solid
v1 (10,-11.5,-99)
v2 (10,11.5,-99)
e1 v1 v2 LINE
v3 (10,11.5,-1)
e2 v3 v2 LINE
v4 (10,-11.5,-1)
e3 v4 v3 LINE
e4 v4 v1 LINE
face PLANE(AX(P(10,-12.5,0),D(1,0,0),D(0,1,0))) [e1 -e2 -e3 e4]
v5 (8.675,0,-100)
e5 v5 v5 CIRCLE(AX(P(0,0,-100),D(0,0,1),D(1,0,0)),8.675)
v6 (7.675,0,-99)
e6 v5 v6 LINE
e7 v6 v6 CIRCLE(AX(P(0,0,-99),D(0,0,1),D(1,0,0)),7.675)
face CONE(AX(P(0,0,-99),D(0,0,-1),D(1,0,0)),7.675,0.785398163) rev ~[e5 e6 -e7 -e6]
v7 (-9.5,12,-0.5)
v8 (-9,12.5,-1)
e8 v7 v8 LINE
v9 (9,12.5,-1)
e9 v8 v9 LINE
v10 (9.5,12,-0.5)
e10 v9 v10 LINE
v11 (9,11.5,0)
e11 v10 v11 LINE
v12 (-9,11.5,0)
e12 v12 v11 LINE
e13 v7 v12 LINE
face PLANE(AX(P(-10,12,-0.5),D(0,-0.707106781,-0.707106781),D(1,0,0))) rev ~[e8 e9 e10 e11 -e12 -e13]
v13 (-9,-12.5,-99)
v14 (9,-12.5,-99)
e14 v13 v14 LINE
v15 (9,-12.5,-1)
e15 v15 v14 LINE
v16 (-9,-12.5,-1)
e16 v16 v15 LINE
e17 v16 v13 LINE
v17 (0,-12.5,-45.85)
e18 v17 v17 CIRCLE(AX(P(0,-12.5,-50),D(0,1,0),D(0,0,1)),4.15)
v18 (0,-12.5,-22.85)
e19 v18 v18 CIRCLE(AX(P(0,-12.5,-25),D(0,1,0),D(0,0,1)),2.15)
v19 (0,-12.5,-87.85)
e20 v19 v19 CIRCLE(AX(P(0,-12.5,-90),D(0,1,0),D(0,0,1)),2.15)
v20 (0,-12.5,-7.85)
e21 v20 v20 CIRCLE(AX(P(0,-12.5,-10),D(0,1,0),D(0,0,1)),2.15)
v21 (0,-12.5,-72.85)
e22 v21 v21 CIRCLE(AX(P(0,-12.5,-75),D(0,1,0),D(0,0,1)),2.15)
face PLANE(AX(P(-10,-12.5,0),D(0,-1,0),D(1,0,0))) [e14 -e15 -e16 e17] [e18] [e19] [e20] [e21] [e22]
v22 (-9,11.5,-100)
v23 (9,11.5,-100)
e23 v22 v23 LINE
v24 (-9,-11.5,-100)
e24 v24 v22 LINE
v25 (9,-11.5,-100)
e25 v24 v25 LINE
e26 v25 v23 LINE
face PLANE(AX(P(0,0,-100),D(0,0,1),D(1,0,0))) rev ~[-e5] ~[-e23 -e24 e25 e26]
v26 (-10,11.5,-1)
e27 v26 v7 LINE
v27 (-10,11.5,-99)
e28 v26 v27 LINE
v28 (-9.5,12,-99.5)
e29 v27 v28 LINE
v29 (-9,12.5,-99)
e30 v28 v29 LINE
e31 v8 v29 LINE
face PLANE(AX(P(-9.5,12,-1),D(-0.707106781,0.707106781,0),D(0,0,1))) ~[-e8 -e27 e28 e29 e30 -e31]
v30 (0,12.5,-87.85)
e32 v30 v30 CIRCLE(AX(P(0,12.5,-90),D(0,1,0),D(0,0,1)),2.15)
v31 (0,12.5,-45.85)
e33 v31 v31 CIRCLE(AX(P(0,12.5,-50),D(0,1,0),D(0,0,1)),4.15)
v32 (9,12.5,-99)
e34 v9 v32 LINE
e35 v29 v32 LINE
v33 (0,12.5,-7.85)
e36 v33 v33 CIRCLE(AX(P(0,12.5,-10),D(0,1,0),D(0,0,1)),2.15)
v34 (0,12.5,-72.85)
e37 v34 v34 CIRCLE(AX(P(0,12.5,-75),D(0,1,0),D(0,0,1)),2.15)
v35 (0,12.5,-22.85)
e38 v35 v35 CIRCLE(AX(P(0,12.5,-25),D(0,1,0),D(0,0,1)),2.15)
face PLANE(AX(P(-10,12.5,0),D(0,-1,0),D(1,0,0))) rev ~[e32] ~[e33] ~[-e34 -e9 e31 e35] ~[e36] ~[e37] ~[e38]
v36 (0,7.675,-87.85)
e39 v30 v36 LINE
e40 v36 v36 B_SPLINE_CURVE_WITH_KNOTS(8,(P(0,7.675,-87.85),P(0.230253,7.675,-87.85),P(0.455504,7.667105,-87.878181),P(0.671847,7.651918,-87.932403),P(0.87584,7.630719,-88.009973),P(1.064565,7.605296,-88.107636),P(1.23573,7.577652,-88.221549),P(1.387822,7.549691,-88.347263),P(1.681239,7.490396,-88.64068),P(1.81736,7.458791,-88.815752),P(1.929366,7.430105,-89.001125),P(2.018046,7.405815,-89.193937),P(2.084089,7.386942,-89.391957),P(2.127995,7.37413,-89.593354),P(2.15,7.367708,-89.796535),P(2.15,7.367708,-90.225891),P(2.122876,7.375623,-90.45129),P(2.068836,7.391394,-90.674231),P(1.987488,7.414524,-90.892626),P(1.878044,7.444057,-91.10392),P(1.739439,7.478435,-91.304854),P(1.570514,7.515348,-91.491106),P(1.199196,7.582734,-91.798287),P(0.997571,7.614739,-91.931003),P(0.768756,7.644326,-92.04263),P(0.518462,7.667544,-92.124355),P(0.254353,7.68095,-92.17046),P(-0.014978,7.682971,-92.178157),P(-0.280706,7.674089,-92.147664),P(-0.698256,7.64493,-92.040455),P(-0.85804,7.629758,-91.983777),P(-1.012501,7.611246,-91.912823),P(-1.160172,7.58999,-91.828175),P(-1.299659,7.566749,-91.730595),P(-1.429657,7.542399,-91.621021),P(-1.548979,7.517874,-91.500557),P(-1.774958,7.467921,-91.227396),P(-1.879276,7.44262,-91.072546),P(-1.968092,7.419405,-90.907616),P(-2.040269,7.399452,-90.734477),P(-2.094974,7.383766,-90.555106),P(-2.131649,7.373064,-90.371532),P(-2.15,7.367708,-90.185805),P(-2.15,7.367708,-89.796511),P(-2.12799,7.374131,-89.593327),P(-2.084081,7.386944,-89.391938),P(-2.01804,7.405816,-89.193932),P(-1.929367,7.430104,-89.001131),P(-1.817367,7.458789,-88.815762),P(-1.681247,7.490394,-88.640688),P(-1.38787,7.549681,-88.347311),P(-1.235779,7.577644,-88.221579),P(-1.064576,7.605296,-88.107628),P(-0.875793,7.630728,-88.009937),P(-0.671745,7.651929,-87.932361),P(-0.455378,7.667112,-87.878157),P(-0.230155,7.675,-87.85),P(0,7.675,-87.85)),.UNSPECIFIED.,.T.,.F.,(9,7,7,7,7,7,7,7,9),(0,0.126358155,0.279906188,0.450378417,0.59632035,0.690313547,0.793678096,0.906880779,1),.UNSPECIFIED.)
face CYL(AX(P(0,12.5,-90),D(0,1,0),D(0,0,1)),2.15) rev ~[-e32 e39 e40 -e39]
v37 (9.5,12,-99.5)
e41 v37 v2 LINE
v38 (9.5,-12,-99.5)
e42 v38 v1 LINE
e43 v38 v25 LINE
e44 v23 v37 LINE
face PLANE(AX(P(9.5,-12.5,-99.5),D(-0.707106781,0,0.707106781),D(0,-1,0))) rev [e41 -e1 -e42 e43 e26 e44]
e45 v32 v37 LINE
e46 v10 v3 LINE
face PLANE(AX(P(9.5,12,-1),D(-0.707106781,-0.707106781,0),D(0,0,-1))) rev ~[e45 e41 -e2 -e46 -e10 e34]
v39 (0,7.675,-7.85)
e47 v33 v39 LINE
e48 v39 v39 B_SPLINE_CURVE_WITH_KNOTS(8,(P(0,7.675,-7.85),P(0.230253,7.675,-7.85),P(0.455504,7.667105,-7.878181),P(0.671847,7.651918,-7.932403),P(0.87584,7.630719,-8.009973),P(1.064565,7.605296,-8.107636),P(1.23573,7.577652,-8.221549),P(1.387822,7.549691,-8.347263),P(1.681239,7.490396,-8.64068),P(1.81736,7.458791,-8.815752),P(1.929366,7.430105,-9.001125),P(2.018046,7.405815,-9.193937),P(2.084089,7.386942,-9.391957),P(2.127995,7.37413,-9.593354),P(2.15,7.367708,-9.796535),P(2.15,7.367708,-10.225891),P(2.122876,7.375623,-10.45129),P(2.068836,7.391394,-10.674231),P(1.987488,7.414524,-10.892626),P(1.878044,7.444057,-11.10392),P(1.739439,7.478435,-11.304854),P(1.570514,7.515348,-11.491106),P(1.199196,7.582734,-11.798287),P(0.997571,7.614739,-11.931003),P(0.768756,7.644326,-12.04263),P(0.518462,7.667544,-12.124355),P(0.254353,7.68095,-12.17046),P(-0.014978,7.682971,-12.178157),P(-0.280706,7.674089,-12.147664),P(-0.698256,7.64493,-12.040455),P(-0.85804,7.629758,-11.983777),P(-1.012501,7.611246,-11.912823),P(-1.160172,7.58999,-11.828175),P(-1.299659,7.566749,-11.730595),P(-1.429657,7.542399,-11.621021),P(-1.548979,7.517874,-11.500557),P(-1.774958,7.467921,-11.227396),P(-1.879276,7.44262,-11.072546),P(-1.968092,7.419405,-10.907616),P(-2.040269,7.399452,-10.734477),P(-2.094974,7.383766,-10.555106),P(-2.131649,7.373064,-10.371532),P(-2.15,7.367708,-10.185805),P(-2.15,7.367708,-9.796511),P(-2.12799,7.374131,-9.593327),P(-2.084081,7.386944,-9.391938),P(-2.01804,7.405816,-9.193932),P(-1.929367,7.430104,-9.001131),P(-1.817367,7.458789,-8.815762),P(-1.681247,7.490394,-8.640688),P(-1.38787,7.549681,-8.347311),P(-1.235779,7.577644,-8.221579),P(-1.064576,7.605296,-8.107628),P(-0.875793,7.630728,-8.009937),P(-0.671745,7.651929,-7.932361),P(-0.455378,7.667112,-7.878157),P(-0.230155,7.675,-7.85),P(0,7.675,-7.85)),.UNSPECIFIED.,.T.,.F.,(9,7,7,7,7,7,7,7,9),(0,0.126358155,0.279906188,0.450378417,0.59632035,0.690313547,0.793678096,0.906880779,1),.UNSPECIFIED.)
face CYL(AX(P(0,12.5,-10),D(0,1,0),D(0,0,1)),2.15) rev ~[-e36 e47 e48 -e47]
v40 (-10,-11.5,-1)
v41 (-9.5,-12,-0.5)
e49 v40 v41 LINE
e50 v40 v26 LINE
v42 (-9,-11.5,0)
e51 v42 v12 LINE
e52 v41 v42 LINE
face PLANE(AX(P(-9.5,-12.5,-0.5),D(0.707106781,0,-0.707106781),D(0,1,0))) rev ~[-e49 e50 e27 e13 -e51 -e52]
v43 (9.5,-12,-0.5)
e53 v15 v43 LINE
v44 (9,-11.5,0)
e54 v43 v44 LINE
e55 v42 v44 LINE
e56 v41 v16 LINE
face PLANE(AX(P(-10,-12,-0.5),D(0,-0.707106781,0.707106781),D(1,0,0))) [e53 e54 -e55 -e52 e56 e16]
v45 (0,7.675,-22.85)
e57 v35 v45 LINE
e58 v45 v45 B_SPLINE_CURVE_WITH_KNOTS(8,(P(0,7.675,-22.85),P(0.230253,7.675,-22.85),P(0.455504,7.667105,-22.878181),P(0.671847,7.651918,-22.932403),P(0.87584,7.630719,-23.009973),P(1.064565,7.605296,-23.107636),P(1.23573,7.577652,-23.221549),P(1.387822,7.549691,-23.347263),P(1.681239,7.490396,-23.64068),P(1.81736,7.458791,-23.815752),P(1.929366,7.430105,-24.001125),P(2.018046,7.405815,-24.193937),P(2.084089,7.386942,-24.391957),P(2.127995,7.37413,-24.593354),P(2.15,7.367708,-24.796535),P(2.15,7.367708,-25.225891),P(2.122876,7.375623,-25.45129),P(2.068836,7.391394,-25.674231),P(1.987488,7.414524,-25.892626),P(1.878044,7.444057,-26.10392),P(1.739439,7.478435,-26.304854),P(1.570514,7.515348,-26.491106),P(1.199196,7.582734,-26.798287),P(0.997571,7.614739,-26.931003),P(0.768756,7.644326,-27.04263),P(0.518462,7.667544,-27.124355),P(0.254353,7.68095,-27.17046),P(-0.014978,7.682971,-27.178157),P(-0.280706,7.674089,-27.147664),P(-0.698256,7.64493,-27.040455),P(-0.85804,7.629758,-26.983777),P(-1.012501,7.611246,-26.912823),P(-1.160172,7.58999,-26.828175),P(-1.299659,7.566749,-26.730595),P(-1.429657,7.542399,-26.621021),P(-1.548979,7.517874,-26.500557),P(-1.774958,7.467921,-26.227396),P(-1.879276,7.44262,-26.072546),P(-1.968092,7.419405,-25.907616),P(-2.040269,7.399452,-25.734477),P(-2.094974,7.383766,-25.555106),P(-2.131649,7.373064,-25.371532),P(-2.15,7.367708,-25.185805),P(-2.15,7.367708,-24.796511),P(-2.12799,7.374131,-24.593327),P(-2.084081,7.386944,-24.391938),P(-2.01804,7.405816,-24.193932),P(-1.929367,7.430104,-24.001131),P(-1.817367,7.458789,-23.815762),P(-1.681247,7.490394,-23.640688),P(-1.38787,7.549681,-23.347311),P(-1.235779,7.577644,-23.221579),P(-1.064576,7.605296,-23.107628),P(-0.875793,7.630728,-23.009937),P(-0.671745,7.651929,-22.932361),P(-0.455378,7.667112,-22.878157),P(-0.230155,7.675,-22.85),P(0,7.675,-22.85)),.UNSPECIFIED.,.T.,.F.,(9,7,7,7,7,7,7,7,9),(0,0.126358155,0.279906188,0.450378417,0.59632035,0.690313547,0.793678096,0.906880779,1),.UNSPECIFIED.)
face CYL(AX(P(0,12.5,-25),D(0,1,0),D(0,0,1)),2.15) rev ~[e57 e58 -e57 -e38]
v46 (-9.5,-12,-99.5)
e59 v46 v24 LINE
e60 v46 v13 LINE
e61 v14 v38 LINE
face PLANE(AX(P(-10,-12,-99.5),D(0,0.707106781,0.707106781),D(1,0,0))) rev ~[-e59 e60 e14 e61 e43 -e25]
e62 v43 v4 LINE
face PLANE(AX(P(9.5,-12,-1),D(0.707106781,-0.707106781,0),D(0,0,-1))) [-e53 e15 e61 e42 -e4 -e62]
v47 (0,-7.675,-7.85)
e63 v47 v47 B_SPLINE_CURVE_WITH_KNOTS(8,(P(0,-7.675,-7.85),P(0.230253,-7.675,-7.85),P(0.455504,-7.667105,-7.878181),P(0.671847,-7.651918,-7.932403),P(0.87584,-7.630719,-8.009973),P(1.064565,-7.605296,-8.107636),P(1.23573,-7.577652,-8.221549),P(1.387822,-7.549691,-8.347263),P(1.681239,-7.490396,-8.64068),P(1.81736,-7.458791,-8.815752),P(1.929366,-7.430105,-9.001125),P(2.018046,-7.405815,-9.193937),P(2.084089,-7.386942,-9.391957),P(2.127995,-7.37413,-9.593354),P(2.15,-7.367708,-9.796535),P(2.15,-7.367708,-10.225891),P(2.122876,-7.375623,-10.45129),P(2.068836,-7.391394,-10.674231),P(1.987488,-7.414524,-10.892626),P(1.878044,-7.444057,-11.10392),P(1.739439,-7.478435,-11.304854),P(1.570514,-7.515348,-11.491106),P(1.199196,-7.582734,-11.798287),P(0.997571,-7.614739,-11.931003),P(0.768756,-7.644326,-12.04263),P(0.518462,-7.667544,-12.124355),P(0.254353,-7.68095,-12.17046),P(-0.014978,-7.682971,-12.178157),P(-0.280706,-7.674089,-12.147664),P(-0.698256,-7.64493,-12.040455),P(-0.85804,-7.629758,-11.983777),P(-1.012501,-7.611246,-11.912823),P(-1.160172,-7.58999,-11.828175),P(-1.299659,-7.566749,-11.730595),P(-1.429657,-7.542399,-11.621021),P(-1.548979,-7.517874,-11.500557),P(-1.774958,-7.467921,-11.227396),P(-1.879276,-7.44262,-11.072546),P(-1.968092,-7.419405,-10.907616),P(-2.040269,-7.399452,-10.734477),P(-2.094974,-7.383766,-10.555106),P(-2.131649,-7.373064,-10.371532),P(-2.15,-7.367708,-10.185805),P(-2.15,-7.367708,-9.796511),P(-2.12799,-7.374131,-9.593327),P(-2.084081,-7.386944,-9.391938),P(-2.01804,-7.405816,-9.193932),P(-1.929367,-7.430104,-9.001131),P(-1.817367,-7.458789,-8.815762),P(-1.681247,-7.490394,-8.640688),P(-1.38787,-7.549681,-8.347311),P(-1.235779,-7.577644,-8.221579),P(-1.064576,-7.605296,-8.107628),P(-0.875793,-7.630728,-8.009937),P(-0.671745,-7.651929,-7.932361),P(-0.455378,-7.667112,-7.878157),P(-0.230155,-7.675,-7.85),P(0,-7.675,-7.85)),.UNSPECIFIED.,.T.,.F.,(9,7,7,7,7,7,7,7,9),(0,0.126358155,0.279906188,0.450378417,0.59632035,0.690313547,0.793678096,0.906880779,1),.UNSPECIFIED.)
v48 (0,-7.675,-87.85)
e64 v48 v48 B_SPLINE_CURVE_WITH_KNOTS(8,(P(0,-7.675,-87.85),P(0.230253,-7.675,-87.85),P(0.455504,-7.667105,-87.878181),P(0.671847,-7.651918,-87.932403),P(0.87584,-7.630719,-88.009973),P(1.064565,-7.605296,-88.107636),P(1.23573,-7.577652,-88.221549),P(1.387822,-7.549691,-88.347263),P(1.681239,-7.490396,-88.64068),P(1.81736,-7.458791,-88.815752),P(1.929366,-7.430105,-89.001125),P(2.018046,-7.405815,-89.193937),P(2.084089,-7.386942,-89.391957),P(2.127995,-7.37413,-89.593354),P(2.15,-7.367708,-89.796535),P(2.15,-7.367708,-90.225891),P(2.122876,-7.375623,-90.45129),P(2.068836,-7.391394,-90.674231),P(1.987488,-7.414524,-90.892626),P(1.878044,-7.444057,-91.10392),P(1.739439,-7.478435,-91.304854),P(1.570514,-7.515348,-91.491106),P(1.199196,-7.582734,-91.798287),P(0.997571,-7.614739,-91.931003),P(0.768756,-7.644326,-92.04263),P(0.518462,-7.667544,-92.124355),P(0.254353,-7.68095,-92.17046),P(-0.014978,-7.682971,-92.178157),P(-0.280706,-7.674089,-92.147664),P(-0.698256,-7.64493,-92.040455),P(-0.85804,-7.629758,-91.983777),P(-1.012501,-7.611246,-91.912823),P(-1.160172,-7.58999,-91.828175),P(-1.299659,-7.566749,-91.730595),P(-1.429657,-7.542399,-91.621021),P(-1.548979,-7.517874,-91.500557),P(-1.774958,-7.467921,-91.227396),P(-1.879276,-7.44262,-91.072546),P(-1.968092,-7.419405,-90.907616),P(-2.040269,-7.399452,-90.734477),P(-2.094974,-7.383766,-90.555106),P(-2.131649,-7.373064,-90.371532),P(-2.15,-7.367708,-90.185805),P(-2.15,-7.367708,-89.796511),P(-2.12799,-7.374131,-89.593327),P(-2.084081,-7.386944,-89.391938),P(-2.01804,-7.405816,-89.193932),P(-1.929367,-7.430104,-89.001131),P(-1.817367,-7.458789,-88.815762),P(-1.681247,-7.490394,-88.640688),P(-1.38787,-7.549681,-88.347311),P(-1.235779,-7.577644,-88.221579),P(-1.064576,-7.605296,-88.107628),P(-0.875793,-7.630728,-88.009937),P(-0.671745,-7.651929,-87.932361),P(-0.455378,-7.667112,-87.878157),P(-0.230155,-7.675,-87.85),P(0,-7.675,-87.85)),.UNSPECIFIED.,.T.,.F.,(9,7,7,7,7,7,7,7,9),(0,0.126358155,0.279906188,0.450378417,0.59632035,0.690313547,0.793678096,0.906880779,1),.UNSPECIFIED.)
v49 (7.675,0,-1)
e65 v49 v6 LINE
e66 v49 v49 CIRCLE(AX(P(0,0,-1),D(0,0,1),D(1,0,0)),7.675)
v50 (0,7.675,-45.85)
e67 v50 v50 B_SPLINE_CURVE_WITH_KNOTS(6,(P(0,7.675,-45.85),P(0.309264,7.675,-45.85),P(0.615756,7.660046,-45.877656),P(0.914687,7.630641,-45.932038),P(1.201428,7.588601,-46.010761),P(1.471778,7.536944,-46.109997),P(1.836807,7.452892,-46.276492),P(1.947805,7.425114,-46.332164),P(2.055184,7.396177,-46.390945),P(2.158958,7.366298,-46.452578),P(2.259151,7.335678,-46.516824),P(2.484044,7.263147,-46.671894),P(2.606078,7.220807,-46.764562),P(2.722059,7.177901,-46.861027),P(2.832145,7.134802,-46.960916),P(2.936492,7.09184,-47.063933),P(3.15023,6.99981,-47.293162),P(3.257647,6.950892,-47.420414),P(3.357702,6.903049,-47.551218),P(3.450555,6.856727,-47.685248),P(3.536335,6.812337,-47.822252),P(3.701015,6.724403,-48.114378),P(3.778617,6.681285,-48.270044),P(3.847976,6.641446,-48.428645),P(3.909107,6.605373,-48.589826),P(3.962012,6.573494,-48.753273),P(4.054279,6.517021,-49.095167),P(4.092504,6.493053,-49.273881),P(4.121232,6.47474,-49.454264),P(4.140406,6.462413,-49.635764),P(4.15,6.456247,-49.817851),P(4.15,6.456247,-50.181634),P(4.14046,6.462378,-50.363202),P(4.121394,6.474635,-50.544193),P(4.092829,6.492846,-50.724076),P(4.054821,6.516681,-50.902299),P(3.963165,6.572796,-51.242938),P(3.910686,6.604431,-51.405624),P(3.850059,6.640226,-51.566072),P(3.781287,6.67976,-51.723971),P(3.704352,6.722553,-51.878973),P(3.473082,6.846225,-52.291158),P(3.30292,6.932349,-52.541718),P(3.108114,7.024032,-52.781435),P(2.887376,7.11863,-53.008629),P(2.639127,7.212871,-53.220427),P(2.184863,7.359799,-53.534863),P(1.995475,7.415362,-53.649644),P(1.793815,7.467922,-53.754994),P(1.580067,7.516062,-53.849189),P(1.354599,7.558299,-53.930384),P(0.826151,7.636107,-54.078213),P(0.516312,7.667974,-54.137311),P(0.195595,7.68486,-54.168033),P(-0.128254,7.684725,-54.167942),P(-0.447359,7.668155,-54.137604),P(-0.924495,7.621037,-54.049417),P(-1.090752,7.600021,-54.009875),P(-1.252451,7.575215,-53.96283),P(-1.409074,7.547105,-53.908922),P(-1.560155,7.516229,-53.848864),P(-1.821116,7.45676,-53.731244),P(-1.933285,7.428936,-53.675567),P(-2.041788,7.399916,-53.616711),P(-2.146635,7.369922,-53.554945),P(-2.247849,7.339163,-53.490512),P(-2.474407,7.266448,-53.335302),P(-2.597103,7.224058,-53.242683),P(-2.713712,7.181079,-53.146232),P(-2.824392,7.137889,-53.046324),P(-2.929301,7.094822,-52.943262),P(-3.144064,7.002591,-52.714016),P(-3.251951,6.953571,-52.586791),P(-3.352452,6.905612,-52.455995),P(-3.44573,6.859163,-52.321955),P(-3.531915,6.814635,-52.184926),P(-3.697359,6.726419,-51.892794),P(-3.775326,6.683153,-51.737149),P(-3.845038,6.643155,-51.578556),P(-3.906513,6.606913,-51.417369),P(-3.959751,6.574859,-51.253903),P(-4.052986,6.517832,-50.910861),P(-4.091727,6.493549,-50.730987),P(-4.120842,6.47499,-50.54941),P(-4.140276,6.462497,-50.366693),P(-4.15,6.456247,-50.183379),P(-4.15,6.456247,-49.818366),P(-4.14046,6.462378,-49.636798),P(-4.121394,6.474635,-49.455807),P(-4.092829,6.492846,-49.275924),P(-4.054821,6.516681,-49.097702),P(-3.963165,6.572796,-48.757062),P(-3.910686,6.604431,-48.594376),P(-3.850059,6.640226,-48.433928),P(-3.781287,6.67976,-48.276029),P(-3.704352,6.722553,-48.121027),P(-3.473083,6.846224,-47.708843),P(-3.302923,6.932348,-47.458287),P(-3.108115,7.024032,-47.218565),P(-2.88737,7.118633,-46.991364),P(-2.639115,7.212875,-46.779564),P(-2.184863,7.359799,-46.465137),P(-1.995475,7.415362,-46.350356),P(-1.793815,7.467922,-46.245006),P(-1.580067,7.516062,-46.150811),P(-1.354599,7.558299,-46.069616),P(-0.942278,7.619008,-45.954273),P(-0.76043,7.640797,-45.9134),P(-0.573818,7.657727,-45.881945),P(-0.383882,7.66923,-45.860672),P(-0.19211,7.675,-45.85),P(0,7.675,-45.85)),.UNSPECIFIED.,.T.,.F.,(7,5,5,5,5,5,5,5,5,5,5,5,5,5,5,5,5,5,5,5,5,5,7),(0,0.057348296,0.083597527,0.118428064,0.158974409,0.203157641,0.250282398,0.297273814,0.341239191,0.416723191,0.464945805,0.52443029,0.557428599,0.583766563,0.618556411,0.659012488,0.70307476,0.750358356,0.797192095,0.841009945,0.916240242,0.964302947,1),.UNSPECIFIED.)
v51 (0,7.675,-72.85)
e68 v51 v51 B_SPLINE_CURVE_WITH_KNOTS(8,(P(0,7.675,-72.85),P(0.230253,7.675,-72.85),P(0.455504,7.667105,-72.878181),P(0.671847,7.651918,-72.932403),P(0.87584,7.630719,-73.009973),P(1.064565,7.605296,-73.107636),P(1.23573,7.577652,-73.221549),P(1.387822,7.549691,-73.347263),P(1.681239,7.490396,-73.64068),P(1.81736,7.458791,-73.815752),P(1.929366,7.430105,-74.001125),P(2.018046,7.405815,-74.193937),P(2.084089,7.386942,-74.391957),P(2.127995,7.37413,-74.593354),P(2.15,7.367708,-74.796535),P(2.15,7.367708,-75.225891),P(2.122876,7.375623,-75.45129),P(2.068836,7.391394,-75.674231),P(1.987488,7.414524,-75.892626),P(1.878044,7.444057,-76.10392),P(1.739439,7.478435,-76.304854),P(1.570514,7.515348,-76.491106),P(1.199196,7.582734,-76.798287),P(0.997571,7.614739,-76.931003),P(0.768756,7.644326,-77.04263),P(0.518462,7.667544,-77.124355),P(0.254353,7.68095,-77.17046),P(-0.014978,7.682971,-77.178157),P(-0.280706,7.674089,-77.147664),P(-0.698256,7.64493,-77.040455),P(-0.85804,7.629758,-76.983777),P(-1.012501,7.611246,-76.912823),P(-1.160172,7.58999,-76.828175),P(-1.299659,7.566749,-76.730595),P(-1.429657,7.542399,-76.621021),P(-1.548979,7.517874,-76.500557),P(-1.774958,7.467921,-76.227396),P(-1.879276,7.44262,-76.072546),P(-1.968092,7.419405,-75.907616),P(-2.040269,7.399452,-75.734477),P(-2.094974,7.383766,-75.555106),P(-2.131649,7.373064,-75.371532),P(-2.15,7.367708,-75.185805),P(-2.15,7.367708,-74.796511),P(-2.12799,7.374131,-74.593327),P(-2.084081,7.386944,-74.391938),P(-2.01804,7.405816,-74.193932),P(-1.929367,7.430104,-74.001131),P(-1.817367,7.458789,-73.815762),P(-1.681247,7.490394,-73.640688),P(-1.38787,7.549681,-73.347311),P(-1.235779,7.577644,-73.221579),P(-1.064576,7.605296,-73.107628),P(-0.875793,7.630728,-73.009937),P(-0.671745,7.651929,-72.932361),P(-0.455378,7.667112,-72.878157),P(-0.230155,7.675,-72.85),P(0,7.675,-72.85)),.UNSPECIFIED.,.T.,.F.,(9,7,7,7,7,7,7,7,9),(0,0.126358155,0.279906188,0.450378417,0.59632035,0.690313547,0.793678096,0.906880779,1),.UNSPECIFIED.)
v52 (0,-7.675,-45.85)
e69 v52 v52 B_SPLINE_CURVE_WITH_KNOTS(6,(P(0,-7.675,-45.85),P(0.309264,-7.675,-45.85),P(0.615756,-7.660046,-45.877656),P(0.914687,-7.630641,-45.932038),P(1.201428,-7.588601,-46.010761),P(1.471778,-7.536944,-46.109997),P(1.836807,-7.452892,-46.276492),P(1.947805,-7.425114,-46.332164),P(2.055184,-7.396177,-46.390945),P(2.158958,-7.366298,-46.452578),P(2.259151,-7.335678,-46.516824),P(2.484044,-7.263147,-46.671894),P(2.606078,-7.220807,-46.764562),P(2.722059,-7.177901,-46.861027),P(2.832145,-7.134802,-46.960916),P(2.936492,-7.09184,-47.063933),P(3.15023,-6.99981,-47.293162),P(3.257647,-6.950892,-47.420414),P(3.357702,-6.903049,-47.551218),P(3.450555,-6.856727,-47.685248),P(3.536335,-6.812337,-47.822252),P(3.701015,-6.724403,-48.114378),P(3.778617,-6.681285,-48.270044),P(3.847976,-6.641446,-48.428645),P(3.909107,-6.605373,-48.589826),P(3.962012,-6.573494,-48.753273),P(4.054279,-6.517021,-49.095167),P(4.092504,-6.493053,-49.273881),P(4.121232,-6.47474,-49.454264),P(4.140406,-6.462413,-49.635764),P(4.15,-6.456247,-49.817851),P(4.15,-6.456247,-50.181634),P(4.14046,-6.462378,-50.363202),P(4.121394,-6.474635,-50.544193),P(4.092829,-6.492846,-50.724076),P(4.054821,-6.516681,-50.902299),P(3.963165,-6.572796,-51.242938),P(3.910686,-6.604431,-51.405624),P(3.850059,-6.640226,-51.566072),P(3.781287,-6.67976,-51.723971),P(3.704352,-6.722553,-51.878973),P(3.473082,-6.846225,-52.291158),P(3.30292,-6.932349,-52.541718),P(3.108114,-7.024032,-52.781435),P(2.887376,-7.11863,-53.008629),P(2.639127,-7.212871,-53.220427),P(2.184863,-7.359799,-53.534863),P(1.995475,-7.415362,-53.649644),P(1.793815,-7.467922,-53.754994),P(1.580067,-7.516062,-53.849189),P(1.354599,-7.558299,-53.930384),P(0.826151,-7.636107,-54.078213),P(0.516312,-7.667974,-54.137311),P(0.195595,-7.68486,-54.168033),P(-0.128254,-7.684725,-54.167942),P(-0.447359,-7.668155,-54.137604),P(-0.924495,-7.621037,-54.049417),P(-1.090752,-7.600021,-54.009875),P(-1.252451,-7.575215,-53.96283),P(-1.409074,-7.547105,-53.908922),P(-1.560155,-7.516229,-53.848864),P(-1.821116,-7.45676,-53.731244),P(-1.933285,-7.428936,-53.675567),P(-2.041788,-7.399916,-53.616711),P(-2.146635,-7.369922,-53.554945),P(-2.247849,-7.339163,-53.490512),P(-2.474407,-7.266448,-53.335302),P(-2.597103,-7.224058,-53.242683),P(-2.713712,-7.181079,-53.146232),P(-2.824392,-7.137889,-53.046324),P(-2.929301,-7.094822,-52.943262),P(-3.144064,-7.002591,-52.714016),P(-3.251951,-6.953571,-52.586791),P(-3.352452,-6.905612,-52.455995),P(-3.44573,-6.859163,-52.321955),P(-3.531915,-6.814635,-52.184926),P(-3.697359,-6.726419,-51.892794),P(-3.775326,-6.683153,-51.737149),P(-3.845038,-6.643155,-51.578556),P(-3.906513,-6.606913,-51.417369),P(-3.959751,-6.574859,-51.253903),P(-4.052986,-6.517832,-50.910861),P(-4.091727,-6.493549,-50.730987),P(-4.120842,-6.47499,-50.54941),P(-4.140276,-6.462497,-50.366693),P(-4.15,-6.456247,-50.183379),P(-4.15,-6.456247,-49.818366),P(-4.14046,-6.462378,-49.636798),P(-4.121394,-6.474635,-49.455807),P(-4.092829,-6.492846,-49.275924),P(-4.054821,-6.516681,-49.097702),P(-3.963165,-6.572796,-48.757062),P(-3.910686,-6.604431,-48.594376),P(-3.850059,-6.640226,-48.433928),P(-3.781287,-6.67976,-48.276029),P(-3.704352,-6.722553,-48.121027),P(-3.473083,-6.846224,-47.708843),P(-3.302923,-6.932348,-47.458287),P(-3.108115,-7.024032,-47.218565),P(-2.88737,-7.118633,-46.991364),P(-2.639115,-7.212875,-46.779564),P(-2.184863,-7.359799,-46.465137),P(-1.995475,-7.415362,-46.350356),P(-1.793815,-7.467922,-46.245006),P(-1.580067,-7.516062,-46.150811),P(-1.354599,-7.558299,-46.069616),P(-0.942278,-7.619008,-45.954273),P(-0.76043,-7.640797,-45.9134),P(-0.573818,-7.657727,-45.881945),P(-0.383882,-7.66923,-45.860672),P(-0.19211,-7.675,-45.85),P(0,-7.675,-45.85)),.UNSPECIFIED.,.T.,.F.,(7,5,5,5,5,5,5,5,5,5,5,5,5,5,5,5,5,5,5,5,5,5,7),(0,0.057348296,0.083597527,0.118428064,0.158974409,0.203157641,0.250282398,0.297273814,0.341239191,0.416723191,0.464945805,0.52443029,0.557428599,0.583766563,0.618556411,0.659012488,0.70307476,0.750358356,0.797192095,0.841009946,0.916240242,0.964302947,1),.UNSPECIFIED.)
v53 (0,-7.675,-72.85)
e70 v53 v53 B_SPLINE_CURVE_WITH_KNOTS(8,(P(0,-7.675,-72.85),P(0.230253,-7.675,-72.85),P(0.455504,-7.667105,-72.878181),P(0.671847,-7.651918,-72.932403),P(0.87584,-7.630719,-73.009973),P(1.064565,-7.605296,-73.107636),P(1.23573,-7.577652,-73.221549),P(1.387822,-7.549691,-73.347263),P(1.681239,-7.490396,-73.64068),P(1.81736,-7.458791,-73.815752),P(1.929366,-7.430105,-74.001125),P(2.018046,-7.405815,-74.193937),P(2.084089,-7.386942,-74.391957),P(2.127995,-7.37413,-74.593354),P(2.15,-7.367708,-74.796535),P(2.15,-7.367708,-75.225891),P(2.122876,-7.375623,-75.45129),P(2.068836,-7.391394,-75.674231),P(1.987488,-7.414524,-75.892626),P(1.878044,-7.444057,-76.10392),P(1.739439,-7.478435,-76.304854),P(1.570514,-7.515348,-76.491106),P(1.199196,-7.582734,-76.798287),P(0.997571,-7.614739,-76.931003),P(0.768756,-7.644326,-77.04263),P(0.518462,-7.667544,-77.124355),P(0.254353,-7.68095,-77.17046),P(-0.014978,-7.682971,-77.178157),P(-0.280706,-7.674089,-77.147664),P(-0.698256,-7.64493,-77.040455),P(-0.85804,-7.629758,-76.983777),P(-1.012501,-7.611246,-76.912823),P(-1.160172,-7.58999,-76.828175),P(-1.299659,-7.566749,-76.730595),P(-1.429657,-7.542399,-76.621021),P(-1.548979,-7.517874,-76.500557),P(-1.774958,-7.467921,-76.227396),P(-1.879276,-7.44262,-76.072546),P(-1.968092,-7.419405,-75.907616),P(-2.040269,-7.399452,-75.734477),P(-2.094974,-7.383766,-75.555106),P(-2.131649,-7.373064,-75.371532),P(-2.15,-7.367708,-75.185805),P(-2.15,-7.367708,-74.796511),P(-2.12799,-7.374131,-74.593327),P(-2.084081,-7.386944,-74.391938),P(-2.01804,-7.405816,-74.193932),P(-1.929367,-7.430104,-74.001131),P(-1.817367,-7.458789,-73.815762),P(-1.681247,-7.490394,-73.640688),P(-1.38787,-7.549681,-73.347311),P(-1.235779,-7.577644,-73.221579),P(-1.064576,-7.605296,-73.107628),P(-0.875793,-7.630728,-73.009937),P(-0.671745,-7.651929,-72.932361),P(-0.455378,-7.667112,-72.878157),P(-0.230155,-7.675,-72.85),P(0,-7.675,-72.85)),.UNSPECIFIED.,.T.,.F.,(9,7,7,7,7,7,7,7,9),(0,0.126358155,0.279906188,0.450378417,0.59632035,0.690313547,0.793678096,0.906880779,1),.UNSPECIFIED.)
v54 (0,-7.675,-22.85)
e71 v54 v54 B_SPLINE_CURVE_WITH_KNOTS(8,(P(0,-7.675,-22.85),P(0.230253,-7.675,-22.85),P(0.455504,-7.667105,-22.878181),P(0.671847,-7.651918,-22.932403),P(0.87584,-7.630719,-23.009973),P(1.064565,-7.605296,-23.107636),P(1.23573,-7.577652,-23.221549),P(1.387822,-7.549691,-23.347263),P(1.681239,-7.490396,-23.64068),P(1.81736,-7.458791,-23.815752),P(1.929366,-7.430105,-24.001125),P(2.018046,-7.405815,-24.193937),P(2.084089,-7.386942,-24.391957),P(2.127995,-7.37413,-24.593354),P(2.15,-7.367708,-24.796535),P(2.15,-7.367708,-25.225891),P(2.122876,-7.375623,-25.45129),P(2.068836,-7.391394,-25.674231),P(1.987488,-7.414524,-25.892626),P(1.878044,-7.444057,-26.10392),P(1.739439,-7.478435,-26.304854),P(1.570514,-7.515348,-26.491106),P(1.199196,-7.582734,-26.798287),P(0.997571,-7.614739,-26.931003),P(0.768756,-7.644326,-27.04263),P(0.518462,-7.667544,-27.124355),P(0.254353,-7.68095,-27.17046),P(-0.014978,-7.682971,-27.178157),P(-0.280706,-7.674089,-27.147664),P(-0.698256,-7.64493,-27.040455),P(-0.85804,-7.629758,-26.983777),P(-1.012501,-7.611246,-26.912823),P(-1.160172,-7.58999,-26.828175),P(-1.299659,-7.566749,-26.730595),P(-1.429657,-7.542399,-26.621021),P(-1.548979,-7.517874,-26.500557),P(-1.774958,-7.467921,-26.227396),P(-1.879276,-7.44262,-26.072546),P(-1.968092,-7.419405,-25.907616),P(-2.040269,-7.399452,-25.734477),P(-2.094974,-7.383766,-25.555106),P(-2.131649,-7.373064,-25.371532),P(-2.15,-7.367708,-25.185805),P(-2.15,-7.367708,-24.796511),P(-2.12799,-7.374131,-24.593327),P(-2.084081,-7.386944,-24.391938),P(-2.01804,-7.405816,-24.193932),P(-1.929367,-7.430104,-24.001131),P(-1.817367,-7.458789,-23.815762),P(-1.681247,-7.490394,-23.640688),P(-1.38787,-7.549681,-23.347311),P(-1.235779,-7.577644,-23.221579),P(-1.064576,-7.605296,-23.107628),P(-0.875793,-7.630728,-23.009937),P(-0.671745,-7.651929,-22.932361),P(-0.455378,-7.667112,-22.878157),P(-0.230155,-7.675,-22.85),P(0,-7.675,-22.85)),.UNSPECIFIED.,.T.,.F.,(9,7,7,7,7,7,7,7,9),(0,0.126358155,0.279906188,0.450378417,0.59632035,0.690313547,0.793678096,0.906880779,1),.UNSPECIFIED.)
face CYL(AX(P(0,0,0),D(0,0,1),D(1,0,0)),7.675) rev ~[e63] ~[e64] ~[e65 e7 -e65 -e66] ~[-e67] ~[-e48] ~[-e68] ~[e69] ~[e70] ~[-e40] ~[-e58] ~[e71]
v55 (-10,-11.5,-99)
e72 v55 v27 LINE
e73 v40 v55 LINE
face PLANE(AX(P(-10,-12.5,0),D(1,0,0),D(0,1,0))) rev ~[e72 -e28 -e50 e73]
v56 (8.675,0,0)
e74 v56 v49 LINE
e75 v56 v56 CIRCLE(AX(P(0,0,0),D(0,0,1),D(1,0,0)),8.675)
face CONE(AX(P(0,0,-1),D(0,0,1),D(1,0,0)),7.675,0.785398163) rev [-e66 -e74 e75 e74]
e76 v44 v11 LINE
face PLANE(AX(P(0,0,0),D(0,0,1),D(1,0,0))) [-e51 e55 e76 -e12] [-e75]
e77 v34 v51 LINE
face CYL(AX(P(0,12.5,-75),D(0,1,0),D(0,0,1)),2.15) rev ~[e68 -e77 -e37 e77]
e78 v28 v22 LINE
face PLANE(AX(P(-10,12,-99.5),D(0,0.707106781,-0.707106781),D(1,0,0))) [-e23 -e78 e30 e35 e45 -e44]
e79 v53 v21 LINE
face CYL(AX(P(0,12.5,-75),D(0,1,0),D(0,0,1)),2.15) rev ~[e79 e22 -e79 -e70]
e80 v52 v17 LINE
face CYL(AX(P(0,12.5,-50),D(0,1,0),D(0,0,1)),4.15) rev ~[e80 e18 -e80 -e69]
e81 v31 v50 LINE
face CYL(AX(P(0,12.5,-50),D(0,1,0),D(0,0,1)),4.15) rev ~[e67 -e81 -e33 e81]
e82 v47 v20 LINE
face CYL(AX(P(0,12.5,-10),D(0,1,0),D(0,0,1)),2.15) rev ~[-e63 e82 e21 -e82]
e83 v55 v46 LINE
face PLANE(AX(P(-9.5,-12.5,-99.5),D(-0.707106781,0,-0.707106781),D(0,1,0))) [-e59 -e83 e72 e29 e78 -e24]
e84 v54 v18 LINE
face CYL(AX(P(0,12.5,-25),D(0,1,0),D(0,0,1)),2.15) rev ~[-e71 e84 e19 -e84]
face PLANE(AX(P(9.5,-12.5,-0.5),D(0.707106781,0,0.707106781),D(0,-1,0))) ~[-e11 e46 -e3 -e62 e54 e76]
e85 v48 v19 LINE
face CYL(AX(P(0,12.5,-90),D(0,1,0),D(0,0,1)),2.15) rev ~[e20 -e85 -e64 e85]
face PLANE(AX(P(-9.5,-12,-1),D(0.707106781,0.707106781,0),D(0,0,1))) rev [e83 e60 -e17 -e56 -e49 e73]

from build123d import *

# Parameters (mm, degrees)
SKETCH_2_W          = 20
SKETCH_2_H          = 25
SKETCH_2_R          = 7.675
EXTRUDE_1_DEPTH     = 100
SKETCH_3_R          = 2.15
SKETCH_3_R_2        = 4.15
CUT_EXTRUDE_2_DEPTH = 104.561575886
CHAMFER_1_SIZE      = 1
CHAMFER_2_SIZE      = 1


with BuildPart() as part:
    # 草图2 → 凸台-拉伸1 (new body)
    with BuildSketch(Plane.XY):
        Rectangle(SKETCH_2_W, SKETCH_2_H)
        Circle(SKETCH_2_R, mode=Mode.SUBTRACT)
    extrude(amount=-EXTRUDE_1_DEPTH)

    # 草图3 → 切除-拉伸2 (cut, through all)
    with BuildSketch(Plane(origin=(0, 12.5, 0), x_dir=(1, 0, 0), z_dir=(0, 1, 0))):
        with Locations((0, 75)):
            Circle(SKETCH_3_R)
        with Locations((0, 50)):
            Circle(SKETCH_3_R_2)
        with Locations((0, 90)):
            Circle(SKETCH_3_R)
        with Locations((0, 10)):
            Circle(SKETCH_3_R)
        with Locations((0, 25)):
            Circle(SKETCH_3_R)
    extrude(amount=-CUT_EXTRUDE_2_DEPTH, mode=Mode.SUBTRACT)

    # 倒角1
    chamfer_1_edges = [part.edges().sort_by_distance(p)[0] for p in [
        (0, 12.5, -100),
        (-10, 0, -100),
        (0, -12.5, -100),
        (10, 0, -100),
        (0, -12.5, 0),
        (-10, 0, 0),
        (0, 12.5, 0),
        (10, 0, 0),
        (-7.675, 0, -100),
        (-7.675, 0, 0),
    ]]
    chamfer(chamfer_1_edges, length=CHAMFER_1_SIZE)

    # 倒角2
    chamfer_2_edges = [part.edges().sort_by_distance(p)[0] for p in [
        (10, -12.5, -50),
        (-10, -12.5, -50),
        (10, 12.5, -50),
        (-10, 12.5, -50),
    ]]
    chamfer(chamfer_2_edges, length=CHAMFER_2_SIZE)


solid = part.part
